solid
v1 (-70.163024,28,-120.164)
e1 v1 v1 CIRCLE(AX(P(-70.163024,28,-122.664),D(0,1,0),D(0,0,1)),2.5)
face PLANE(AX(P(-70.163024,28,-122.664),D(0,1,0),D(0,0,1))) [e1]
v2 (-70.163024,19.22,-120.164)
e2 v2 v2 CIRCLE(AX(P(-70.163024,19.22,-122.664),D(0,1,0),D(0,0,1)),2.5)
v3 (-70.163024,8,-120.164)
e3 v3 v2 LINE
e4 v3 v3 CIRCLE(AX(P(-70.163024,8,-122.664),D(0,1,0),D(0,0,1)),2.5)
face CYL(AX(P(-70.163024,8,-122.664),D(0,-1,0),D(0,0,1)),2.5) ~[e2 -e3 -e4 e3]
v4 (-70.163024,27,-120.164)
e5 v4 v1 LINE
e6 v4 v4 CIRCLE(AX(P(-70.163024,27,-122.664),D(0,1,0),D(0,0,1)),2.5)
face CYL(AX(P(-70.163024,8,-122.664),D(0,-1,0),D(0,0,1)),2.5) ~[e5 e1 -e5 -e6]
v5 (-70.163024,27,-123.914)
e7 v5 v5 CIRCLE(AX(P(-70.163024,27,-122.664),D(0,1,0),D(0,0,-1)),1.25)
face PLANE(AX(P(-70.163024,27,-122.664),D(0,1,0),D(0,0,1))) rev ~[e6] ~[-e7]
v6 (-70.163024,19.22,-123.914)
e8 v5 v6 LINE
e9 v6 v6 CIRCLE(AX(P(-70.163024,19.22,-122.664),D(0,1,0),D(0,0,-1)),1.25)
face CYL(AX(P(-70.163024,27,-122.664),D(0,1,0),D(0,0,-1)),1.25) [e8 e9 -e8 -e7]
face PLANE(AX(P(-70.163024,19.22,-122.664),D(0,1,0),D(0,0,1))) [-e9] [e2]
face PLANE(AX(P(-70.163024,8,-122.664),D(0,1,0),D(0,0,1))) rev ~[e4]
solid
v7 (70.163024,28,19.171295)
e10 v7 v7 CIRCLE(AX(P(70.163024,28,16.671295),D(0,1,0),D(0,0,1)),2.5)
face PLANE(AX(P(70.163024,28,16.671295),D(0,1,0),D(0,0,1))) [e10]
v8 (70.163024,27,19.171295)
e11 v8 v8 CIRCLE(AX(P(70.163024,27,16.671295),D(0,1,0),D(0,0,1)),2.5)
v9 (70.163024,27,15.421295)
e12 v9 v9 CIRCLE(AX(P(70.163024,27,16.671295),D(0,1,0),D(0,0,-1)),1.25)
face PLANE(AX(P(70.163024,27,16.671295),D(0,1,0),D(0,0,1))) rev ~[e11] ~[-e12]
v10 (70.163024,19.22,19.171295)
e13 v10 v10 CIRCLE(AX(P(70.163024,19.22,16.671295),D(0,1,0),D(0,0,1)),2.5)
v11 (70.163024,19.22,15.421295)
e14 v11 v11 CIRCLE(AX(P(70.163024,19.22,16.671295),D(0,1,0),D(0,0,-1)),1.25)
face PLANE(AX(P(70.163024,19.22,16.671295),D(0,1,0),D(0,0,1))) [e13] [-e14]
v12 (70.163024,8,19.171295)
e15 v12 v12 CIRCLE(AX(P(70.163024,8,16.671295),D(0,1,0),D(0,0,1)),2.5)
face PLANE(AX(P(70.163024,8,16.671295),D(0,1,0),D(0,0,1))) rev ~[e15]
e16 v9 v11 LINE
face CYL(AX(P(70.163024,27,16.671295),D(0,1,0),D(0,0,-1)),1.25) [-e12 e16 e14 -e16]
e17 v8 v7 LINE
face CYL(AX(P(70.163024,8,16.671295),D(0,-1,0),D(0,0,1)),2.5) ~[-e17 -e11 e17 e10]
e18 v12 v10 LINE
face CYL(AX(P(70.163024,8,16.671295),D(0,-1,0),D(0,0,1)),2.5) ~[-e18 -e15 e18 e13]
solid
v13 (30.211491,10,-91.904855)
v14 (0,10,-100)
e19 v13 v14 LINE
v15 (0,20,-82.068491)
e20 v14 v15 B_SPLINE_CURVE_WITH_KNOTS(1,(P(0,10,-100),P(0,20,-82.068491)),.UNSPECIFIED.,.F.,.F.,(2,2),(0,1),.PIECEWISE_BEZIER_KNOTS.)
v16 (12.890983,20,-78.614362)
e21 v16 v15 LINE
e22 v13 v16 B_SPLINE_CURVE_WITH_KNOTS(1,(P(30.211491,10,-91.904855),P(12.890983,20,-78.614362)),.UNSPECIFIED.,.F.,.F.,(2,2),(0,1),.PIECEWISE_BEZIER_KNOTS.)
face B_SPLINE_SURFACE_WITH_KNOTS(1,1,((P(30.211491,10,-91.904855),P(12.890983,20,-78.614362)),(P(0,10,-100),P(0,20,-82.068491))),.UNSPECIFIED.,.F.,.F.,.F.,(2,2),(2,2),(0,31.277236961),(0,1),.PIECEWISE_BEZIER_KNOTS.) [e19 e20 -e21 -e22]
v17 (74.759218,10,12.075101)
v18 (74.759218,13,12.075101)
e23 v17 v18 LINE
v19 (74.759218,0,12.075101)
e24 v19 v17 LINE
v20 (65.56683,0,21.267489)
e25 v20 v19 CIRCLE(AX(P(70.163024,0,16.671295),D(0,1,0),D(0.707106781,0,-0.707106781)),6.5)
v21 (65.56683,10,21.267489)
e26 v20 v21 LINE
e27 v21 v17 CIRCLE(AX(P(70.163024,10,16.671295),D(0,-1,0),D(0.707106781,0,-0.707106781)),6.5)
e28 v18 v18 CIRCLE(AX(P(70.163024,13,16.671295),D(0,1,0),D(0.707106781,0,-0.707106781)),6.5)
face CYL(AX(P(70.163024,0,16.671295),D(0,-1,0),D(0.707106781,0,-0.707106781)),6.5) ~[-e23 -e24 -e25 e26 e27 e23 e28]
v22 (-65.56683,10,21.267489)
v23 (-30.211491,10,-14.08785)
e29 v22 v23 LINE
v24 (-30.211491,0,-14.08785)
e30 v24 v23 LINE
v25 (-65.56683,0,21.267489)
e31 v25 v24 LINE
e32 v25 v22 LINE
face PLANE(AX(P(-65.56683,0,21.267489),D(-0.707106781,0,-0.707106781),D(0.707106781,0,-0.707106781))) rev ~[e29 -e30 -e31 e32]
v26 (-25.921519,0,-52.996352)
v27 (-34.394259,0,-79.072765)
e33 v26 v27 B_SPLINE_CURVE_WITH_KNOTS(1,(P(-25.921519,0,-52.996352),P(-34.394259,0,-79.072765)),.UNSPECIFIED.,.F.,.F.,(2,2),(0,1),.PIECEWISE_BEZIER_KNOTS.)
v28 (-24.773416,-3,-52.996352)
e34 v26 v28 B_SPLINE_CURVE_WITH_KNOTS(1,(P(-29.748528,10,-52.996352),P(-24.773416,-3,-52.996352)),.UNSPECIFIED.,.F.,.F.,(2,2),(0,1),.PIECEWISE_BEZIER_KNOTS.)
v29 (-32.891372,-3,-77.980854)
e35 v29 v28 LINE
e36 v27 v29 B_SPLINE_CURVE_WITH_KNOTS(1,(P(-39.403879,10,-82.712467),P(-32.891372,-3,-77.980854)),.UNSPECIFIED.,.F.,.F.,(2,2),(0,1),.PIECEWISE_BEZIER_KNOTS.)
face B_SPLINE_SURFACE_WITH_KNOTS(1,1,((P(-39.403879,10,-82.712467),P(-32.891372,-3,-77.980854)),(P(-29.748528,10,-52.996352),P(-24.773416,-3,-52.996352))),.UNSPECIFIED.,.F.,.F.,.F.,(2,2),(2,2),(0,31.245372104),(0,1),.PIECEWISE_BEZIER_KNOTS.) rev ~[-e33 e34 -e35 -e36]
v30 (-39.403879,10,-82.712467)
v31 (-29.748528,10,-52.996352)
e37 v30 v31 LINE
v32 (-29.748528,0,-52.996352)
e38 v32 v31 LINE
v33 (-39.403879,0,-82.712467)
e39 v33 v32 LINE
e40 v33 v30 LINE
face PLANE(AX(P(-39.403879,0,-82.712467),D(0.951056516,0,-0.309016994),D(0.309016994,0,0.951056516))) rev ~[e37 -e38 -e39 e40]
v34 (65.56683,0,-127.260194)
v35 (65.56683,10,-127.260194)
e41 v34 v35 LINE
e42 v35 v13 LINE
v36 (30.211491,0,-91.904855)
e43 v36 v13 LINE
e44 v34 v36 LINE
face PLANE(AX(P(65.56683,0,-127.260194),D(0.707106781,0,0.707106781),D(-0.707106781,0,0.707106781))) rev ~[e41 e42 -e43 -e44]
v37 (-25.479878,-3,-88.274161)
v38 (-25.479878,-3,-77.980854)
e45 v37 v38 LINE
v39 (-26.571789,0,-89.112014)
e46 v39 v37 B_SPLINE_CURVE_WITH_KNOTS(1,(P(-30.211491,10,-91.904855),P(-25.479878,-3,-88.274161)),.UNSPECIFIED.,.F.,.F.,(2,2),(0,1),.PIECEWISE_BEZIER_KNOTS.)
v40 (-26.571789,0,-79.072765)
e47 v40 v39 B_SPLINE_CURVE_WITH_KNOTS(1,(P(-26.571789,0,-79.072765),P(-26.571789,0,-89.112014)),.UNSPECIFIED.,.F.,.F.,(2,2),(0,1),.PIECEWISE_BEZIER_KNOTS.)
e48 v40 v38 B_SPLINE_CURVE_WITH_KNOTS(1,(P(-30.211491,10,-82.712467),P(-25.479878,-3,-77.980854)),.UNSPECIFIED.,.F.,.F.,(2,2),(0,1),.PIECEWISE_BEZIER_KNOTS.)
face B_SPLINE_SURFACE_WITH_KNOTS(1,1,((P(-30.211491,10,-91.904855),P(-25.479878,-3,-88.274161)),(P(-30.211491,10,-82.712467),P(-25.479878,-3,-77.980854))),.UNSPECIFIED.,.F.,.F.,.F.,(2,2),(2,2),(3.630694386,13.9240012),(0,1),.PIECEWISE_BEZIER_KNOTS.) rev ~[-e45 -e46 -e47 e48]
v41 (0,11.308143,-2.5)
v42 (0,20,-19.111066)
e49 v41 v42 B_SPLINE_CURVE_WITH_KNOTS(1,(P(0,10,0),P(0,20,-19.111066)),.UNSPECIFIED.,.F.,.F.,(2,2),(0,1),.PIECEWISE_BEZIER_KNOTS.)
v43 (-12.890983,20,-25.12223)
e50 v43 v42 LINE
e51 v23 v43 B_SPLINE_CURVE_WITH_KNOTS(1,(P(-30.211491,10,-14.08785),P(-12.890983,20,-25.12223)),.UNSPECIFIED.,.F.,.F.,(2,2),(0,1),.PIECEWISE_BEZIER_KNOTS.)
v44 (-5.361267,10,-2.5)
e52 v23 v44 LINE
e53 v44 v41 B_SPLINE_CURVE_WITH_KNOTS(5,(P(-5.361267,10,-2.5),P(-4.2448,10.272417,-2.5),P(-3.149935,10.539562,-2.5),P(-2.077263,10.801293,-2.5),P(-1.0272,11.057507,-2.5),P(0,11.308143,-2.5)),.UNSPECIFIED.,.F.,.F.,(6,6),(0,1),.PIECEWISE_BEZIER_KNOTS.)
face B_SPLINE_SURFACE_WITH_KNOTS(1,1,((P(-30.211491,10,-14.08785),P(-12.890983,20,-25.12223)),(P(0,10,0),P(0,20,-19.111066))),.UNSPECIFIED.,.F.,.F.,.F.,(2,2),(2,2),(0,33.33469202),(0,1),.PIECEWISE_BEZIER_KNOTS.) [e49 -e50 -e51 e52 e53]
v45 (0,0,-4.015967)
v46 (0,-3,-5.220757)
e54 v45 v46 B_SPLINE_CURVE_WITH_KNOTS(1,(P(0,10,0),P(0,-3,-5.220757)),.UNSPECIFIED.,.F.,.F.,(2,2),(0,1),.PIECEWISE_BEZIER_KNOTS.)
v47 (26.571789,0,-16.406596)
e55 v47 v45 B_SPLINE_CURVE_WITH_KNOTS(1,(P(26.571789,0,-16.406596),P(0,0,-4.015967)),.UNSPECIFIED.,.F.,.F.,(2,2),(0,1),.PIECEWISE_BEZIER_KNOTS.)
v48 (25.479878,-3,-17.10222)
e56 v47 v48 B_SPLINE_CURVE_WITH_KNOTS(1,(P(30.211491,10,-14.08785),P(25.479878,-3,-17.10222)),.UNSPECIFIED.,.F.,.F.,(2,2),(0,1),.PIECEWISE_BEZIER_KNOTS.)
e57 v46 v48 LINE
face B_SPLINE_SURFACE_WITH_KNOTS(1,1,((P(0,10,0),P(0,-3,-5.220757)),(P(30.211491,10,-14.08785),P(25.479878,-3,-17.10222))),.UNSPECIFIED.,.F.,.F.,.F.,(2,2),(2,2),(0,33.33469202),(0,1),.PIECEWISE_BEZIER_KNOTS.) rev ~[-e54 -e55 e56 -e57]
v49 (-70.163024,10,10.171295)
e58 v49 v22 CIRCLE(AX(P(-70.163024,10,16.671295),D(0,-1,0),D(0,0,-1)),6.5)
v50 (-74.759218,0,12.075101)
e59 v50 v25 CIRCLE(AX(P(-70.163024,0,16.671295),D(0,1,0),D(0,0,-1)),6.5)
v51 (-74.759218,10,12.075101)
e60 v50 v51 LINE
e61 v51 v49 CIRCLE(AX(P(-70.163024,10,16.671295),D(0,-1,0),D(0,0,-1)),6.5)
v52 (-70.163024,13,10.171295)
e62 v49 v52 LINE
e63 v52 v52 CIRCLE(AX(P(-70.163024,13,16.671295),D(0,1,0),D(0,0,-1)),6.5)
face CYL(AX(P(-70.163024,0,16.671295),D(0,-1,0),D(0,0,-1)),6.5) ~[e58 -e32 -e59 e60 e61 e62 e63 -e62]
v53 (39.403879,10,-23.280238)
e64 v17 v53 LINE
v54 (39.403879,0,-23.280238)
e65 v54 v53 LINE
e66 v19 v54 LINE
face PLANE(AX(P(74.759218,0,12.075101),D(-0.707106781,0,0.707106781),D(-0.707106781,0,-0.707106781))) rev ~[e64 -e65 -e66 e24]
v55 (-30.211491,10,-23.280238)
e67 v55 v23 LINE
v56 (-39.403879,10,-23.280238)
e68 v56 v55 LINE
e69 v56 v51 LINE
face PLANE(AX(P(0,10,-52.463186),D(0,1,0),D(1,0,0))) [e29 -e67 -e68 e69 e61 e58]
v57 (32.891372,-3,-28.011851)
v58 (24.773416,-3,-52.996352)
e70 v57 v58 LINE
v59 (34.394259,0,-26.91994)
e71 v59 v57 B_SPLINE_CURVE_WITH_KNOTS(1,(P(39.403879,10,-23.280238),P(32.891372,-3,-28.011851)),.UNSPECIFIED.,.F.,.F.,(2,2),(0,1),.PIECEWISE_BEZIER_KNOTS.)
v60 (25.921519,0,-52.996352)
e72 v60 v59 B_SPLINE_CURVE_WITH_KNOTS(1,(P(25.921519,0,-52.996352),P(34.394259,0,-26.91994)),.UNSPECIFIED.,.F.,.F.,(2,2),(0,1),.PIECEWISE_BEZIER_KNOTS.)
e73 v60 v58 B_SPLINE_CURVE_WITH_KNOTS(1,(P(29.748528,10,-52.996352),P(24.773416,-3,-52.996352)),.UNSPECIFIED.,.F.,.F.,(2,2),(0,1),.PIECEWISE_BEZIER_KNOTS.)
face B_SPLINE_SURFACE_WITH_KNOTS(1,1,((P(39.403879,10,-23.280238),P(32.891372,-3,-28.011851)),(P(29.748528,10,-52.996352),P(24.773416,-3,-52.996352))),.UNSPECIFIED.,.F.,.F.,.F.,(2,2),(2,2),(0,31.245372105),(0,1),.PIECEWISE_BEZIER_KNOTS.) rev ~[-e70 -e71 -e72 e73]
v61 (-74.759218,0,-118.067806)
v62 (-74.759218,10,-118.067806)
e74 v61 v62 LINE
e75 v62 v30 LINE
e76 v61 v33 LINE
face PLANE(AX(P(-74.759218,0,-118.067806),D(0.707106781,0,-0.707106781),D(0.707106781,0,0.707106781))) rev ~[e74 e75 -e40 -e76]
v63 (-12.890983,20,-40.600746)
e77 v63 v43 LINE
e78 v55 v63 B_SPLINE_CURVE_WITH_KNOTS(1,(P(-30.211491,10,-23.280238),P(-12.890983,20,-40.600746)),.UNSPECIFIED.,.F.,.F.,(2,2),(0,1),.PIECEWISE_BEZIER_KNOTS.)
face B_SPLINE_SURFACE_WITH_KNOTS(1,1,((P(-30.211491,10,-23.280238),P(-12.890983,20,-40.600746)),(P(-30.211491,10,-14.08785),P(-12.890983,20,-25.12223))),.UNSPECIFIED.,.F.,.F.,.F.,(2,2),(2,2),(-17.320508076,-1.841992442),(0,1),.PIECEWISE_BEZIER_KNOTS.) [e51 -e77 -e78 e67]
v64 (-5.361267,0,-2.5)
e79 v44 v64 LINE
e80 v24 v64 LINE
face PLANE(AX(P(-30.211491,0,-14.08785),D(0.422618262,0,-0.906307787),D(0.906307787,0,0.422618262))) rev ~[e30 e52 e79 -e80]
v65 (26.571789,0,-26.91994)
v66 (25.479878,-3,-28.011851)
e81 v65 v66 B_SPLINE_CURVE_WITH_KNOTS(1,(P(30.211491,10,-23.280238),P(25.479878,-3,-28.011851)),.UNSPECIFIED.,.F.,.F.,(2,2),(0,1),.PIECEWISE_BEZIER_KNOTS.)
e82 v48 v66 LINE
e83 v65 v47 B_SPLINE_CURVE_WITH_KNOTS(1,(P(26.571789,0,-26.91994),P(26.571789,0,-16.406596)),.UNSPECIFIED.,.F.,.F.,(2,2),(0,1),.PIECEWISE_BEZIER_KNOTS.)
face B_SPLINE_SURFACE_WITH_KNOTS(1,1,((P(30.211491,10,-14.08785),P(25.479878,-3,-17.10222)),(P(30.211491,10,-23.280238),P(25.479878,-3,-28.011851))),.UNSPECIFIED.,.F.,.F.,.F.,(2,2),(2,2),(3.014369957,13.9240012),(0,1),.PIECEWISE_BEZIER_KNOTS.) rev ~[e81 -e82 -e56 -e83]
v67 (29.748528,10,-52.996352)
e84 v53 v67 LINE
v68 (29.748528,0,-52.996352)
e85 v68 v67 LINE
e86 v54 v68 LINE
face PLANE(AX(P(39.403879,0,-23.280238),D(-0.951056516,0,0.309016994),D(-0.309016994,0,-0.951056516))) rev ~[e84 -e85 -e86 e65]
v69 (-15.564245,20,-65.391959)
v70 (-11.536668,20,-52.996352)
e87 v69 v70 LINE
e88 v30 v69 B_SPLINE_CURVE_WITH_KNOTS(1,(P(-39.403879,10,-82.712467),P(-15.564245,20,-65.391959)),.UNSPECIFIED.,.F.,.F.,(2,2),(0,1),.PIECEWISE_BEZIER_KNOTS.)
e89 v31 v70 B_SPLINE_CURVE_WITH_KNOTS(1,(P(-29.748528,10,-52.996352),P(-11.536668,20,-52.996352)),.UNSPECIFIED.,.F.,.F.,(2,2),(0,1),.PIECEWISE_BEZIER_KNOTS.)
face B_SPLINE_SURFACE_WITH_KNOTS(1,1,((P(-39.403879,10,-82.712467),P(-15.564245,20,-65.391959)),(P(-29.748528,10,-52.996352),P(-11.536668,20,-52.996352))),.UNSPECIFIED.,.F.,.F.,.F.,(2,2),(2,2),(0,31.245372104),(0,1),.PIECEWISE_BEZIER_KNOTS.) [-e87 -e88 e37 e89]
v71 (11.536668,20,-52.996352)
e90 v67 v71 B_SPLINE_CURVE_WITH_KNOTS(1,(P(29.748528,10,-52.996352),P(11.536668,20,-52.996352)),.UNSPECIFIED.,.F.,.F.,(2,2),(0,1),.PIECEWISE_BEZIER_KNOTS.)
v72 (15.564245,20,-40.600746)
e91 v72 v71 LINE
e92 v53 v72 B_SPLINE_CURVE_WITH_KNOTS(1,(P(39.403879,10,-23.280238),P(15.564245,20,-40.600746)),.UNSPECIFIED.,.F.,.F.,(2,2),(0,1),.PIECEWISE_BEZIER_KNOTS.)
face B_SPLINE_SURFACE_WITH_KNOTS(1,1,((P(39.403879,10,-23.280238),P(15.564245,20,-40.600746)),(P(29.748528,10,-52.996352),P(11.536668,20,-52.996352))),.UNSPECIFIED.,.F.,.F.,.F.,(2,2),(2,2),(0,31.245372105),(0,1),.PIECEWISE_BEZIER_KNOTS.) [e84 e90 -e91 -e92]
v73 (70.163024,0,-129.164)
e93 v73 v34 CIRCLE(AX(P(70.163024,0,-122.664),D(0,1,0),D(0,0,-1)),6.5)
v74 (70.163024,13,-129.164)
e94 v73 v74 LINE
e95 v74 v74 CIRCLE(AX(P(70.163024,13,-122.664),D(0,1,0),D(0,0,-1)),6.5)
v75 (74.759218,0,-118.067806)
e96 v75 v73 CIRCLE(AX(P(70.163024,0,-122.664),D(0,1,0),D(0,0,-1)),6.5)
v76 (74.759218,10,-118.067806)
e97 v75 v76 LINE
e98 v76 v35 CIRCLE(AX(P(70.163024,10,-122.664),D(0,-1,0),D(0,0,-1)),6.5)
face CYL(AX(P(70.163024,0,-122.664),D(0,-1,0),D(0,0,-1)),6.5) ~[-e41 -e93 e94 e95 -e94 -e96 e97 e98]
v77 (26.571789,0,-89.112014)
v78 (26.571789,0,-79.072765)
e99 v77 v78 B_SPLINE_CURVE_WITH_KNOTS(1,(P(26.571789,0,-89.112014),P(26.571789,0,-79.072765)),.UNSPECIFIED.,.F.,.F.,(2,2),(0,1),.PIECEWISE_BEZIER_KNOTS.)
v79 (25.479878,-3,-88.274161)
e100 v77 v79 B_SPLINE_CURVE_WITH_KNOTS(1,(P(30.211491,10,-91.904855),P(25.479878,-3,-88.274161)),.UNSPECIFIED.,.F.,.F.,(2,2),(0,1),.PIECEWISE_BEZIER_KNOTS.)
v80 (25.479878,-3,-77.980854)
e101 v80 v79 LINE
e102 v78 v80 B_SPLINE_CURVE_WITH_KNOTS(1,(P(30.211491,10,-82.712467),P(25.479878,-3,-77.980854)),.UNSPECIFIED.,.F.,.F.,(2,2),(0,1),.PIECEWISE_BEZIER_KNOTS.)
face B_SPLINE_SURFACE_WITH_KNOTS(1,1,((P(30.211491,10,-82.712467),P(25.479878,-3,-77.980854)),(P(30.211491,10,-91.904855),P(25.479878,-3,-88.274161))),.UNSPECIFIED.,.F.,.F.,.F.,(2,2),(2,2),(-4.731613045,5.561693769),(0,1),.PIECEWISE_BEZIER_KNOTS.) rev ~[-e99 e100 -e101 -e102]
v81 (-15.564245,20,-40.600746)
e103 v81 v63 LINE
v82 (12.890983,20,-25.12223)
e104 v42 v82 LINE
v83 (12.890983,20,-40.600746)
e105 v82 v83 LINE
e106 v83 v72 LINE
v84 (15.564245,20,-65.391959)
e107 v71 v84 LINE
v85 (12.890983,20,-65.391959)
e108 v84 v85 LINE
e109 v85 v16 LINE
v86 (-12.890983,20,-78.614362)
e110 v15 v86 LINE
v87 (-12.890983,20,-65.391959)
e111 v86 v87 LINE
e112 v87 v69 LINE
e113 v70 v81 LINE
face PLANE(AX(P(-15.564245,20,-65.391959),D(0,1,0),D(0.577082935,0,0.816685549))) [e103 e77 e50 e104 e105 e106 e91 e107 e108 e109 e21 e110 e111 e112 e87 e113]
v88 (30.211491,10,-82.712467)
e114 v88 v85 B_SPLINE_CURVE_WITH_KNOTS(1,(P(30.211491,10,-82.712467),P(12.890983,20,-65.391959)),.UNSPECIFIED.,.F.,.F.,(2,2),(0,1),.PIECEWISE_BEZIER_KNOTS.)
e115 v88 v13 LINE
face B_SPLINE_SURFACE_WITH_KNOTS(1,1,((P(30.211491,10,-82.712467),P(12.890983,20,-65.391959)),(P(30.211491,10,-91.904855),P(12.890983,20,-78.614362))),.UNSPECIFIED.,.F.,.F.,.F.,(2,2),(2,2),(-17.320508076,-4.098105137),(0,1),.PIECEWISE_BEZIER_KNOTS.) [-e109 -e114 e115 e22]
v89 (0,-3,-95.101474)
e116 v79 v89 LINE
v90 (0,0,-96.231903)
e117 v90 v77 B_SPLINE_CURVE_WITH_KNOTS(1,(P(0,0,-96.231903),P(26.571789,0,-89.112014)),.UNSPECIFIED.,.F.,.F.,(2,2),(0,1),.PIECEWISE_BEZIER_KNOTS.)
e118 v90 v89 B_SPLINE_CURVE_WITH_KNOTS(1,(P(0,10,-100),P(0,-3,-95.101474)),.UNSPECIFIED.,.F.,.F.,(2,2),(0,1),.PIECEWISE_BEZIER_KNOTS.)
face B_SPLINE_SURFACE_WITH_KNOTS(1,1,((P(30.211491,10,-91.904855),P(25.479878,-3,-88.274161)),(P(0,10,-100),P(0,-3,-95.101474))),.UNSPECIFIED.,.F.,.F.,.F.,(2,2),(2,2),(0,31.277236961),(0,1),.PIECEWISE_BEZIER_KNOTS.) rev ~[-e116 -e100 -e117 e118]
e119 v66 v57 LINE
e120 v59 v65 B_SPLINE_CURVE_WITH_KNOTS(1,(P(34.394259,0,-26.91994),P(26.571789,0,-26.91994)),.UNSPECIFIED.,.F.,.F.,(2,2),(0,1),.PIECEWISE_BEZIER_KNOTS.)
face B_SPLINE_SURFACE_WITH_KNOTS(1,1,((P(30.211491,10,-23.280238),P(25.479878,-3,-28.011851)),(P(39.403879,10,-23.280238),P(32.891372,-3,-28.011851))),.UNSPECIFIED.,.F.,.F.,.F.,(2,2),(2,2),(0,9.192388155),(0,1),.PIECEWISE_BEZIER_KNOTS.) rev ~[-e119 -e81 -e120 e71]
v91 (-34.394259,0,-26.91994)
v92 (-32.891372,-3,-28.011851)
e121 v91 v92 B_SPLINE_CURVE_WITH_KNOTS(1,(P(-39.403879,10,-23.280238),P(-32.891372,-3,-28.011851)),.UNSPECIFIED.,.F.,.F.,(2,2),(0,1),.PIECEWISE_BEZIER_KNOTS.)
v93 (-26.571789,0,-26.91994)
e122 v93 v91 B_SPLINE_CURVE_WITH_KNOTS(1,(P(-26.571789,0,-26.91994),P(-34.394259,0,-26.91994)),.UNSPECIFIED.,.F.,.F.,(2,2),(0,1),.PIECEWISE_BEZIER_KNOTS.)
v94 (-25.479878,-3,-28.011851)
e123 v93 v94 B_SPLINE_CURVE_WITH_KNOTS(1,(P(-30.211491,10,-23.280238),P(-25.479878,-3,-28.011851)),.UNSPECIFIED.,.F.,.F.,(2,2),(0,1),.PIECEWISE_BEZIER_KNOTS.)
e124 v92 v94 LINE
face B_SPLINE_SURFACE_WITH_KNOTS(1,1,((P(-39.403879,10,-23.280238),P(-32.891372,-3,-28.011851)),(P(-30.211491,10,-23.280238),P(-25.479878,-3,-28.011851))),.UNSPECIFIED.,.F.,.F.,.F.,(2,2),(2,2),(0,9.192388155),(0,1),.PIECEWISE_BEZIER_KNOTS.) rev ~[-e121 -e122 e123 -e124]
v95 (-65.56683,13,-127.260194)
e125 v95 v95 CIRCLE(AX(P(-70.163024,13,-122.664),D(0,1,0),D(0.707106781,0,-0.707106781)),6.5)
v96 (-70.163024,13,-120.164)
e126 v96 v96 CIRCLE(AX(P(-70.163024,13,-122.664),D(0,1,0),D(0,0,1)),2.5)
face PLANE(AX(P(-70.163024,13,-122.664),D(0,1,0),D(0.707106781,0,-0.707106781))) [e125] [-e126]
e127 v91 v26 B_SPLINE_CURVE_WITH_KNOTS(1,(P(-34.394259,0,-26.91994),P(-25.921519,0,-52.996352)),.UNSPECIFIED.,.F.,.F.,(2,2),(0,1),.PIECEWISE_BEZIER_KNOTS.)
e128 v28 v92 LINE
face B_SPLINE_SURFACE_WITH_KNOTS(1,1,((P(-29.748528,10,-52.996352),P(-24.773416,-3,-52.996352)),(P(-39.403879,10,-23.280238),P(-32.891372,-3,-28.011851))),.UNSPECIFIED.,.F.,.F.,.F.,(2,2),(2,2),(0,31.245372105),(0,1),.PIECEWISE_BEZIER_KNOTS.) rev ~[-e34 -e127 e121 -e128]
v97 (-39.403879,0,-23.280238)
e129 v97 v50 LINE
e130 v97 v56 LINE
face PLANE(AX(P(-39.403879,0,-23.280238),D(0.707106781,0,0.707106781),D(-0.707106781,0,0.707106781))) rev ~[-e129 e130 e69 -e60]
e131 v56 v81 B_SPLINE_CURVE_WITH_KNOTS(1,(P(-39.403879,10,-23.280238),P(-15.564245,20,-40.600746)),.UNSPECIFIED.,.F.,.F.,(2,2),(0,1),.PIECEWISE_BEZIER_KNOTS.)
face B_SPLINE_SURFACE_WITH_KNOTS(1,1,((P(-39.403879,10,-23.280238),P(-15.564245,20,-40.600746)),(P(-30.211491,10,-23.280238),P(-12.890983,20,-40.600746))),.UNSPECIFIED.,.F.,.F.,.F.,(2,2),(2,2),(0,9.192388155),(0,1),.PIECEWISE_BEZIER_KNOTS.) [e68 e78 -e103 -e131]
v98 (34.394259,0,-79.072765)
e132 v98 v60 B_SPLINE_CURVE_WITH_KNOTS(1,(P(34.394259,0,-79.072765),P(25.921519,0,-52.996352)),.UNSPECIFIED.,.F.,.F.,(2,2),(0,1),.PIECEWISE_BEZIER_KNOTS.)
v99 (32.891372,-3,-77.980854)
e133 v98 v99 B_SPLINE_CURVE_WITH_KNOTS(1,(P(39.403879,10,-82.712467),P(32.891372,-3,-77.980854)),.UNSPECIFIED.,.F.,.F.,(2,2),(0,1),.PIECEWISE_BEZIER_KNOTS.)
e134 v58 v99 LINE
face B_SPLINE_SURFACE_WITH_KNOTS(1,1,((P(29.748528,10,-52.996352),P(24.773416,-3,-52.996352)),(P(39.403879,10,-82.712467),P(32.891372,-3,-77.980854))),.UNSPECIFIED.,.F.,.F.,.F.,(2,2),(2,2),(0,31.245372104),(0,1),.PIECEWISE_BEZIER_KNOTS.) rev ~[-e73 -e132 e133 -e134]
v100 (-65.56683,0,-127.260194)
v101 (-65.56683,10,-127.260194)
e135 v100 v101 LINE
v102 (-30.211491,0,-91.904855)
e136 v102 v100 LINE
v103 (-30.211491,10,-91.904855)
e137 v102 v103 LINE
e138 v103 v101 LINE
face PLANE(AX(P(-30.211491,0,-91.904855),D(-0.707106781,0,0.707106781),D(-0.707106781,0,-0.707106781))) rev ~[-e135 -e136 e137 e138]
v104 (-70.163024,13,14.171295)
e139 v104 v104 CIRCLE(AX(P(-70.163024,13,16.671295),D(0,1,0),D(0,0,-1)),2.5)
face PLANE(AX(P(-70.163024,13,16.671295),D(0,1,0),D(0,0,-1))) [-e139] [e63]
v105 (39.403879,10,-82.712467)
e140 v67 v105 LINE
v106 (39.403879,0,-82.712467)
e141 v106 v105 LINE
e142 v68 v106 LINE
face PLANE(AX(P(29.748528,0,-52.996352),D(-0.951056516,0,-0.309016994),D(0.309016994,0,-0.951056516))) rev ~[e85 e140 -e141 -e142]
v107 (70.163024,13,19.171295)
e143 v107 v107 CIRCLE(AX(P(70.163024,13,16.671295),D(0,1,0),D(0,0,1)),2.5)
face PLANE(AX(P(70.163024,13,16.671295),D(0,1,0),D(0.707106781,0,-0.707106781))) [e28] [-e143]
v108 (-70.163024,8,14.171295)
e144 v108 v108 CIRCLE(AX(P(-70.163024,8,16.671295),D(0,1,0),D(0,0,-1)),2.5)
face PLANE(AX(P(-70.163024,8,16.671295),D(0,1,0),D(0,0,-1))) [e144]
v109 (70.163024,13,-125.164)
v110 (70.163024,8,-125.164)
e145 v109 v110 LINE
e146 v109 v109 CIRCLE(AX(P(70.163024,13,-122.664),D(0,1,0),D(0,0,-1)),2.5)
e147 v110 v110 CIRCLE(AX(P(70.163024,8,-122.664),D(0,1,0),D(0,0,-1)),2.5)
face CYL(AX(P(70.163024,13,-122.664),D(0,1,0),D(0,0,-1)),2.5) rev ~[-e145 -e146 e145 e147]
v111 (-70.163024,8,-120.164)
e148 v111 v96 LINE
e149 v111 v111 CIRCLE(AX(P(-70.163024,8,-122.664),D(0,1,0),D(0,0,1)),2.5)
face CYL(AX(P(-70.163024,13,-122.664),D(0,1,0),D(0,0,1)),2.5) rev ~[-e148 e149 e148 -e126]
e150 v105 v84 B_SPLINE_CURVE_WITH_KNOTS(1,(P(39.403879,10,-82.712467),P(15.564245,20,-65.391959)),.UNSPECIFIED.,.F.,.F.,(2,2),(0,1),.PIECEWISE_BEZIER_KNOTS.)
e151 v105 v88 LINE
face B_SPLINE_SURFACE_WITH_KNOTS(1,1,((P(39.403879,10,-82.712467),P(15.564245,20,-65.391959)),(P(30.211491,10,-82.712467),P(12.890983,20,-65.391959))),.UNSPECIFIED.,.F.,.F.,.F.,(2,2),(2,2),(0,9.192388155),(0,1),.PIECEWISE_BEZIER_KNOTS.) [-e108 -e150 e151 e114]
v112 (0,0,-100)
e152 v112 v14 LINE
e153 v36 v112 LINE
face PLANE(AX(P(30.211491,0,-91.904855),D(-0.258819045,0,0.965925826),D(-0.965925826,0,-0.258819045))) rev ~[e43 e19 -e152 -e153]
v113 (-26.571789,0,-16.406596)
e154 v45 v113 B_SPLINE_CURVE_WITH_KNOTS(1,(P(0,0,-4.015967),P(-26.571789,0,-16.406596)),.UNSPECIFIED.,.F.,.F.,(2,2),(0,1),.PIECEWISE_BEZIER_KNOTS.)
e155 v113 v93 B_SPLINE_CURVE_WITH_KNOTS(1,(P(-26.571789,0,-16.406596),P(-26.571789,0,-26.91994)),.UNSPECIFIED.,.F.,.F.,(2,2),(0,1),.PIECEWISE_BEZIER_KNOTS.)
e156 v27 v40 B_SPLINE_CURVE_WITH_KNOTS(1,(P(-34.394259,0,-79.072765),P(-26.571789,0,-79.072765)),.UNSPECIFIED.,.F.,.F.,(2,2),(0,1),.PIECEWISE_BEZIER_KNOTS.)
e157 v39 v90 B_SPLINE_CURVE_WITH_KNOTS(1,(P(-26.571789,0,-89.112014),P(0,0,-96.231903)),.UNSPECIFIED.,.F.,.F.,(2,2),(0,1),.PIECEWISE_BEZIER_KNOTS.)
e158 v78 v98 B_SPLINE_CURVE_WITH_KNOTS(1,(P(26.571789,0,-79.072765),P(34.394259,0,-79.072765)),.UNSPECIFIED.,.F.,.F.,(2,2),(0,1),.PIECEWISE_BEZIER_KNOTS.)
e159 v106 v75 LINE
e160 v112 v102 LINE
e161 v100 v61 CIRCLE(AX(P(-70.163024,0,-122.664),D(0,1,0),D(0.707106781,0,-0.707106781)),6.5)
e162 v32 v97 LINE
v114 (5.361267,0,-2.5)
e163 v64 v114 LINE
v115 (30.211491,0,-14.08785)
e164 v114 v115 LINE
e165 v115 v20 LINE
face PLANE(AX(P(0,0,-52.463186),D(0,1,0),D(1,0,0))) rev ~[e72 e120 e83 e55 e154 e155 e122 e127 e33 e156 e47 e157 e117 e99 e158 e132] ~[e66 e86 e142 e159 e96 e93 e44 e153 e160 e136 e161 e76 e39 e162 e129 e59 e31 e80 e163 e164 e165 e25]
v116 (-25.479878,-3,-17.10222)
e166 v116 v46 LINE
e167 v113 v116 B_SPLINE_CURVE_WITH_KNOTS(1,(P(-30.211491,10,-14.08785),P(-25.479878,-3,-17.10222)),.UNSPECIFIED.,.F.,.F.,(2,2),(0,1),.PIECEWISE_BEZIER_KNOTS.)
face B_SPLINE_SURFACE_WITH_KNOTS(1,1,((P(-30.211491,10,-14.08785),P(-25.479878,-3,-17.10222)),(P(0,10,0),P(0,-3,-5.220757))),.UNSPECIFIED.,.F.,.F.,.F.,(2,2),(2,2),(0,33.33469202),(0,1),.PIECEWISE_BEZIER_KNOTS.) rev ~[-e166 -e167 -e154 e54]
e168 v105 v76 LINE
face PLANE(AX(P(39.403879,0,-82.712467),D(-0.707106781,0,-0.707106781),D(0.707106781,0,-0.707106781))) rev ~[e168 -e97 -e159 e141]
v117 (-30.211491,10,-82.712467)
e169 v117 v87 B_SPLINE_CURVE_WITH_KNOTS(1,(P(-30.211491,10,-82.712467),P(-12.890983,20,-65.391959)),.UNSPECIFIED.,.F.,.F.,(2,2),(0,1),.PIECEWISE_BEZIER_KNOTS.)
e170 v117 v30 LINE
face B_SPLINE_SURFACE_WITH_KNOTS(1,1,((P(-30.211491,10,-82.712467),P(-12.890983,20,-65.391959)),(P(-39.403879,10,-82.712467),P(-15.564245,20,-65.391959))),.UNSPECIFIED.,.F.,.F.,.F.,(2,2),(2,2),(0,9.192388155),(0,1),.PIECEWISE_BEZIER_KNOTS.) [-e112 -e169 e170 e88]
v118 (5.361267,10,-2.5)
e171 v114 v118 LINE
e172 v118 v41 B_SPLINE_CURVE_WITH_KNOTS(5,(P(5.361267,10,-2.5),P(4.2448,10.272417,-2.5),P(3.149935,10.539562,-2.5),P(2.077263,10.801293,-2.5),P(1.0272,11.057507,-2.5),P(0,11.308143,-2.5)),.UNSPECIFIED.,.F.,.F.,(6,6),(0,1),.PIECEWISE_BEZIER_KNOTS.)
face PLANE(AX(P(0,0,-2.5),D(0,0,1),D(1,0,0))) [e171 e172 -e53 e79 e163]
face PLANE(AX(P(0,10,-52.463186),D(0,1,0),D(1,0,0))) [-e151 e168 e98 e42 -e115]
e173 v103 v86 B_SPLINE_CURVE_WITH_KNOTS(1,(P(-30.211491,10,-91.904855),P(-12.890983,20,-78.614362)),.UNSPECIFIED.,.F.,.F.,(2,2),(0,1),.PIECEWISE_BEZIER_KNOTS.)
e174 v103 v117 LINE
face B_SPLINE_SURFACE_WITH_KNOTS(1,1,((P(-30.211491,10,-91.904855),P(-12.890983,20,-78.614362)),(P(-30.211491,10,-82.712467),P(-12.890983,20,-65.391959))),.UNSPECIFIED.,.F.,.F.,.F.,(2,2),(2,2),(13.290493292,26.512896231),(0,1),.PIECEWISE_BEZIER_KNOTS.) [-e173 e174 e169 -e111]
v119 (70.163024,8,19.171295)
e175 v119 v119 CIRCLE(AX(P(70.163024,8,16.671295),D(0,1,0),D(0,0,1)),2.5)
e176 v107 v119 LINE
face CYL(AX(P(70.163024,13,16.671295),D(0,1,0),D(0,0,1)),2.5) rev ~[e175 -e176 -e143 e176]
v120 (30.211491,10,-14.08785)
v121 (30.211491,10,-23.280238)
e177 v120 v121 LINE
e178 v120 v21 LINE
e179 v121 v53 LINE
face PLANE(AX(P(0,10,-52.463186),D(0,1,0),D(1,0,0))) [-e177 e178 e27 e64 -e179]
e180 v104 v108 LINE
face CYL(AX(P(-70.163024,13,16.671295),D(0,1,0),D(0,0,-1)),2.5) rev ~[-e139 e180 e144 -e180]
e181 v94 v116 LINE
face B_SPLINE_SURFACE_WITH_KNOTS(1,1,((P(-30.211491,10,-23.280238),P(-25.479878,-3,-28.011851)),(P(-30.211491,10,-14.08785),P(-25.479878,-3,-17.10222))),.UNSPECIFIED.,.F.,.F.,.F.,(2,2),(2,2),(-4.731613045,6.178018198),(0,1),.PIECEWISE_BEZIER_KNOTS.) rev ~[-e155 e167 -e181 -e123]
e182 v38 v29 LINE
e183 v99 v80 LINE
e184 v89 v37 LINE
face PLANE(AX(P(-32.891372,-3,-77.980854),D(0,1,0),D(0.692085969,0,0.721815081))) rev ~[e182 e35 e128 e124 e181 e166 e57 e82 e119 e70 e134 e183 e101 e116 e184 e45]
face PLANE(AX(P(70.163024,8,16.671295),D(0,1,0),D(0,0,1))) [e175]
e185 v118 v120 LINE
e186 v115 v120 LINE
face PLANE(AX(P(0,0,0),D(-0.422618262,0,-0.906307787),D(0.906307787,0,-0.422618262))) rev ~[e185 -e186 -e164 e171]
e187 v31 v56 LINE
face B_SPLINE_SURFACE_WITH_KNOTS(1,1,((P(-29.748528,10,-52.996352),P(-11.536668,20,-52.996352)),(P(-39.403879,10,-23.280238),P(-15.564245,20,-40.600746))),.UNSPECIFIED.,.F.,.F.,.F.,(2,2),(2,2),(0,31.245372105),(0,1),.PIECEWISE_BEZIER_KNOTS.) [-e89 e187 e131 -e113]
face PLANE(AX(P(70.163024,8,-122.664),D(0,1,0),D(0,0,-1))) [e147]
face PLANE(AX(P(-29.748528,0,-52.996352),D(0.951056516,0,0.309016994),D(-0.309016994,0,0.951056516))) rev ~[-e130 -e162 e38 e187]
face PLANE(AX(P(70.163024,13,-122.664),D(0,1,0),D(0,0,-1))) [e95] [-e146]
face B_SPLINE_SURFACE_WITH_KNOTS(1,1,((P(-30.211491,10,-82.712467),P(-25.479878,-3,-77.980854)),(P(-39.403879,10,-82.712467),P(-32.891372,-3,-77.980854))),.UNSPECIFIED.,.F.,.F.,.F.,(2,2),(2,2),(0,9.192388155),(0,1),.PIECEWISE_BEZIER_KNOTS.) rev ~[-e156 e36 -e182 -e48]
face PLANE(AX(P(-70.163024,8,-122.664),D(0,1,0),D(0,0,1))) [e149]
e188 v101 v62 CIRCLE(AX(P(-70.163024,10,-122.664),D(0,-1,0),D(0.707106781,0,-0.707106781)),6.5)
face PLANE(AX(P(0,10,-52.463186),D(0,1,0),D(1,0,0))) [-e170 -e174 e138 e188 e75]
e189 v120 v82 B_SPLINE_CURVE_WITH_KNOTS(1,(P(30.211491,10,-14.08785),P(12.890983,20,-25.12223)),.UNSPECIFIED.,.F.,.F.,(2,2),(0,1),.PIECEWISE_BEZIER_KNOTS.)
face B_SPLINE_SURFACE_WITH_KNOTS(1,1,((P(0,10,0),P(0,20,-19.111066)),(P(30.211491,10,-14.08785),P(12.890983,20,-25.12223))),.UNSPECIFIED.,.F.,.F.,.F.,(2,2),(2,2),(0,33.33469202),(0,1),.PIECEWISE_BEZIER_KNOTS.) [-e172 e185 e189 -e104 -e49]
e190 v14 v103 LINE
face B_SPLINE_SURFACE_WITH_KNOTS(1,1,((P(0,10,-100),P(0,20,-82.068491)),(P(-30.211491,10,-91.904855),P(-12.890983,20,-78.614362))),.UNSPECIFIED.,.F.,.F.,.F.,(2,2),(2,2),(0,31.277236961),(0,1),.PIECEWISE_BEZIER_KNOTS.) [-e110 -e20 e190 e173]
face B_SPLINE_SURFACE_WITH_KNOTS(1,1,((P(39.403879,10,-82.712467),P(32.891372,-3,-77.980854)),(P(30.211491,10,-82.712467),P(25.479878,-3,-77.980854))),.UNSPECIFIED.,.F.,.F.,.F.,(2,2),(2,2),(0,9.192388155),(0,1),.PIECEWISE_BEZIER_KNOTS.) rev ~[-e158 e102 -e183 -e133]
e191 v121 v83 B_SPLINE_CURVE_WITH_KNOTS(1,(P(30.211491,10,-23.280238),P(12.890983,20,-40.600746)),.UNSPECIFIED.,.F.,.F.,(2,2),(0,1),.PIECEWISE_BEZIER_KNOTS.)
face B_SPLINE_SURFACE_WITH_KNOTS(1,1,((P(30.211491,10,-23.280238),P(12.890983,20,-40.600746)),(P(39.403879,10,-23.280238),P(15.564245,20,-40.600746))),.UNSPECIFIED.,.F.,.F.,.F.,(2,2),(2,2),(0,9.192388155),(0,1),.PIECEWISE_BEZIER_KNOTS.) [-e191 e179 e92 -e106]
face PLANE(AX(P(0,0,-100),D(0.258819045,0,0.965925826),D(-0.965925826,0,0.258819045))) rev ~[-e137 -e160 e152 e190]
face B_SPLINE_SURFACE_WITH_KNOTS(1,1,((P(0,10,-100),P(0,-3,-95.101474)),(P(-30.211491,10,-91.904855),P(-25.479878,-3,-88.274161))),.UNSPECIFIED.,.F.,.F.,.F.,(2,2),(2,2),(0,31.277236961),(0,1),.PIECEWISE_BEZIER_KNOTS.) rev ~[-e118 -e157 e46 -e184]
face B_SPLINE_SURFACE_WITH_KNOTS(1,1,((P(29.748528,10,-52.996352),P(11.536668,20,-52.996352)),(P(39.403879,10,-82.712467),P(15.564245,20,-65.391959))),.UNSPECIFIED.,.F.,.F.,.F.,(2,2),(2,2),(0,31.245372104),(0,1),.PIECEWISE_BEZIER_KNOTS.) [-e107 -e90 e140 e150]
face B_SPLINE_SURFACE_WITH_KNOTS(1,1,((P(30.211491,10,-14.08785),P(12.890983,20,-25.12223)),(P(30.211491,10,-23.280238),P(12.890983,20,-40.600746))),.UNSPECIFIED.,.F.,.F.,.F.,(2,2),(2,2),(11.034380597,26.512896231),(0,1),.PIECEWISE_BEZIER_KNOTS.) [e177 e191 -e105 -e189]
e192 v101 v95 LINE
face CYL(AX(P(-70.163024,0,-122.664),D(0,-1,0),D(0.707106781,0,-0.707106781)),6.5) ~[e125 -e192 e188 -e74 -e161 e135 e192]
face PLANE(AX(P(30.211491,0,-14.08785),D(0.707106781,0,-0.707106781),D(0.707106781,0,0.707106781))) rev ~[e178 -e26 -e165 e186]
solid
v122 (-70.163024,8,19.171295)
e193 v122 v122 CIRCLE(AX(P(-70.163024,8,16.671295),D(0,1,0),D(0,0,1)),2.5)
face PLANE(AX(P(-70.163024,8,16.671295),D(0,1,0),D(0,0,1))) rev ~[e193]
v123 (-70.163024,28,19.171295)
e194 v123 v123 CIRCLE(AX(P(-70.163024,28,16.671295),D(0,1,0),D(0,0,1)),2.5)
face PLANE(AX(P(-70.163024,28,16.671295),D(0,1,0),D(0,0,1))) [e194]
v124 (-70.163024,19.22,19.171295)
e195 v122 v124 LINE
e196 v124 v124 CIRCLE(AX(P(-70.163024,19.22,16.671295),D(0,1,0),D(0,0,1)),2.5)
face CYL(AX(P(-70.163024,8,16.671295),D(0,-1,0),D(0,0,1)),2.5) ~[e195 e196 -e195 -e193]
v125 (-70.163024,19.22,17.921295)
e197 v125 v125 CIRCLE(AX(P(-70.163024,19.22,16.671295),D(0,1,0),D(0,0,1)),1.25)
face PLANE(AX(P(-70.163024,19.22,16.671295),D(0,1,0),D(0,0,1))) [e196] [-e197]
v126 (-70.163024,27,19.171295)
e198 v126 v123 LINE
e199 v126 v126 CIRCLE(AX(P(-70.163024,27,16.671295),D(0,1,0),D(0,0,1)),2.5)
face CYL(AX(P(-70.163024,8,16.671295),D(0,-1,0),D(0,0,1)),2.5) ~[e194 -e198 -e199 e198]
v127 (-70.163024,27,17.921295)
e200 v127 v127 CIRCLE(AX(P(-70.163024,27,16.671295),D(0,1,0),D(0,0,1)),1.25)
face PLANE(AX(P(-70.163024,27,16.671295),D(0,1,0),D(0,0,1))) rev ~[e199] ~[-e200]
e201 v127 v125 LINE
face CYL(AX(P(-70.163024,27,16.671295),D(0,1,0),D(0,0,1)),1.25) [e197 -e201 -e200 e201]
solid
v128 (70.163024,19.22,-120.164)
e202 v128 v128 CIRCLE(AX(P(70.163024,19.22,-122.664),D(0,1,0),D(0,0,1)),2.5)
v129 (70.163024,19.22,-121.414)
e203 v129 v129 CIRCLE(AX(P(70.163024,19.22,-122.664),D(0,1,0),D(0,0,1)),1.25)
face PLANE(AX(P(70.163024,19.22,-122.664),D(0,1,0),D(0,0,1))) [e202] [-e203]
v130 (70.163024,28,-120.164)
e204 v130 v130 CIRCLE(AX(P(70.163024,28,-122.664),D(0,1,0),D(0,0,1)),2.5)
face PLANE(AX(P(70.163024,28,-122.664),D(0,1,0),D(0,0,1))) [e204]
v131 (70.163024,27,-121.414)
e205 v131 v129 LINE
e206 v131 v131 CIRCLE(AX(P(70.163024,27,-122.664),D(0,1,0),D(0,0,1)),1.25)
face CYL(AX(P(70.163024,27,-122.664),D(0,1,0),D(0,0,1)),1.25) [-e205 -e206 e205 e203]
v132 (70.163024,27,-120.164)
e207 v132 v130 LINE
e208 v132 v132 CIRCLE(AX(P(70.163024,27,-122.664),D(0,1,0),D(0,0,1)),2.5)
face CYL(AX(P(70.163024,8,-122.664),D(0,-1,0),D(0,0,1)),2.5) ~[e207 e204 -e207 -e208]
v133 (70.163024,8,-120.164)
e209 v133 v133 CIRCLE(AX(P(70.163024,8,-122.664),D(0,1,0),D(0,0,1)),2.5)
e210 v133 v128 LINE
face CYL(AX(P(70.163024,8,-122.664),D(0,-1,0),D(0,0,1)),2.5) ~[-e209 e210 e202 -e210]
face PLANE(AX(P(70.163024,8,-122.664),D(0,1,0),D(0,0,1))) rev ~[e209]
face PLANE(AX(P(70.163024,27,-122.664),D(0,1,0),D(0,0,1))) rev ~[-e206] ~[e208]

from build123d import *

# Parameters (mm, degrees)
SALIENTE_EXTRUIR1_DEPTH           = 10
SALIENTE_EXTRUIR2_DEPTH           = 13
SALIENTE_EXTRUIR2_TAPER           = 20
SALIENTE_EXTRUIR2_OTHER_WAY_DEPTH = 10
SALIENTE_EXTRUIR2_OTHER_WAY_TAPER = 60
CROQUIS8_W                        = 21.791142798
CROQUIS8_H                        = 20
CORTAR_EXTRUIR3_DEPTH             = 2.5
SALIENTE_EXTRUIR3_DEPTH           = 3
SALIENTE_EXTRUIR3_DEPTH_BACK      = 10
CROQUIS3_R                        = 6.5
CROQUIS4_R                        = 2.5
CORTAR_EXTRUIR1_DEPTH             = 5
CROQUIS6_R                        = 2.5
SALIENTE_EXTRUIR4_DEPTH           = 20
SALIENTE_EXTRUIR4_2_DEPTH         = 20
SALIENTE_EXTRUIR4_3_DEPTH         = 20
SALIENTE_EXTRUIR4_4_DEPTH         = 20
CORTAR_EXTRUIR2_START             = -1
CROQUIS7_R                        = 2.5
CROQUIS7_R_2                      = 1.25
CORTAR_EXTRUIR2_DEPTH             = 7.78
CROQUIS9_W                        = 10.722534602
CROQUIS9_H                        = 19.76388768
CORTAR_EXTRUIR5_DEPTH             = 10


with BuildPart() as part:
    # Croquis1 → Saliente-Extruir1 (new body)
    with BuildSketch(Plane(origin=(0, 0, 0), x_dir=(1, 0, 0), z_dir=(0, 1, 0))):
        Polygon((30.211490956, 91.904855396), (0, 100), (-30.211490956, 91.904855396), (-65.566830015, 127.260194456), (-74.759218171, 118.0678063), (-39.403879111, 82.712467241), (-29.748528135, 52.996352497), (-39.403879111, 23.280237752), (-74.759218171, -12.075101307), (-65.566830015, -21.267489462), (-30.211490956, 14.087849597), (0, 0), (30.211490956, 14.087849597), (65.566830015, -21.267489462), (74.759218171, -12.075101307), (39.403879111, 23.280237752), (29.748528135, 52.996352497), (39.403879111, 82.712467241), (74.759218171, 118.0678063), (65.566830015, 127.260194456), align=None)
    extrude(amount=SALIENTE_EXTRUIR1_DEPTH)

    # Croquis2 → Saliente-Extruir2 (add)
    with BuildSketch(Plane(origin=(0, 10, 0), x_dir=(1, 0, 0), z_dir=(0, 1, 0))):
        Polygon((-39.403879111, 82.712467241), (-29.748528135, 52.996352497), (-39.403879111, 23.280237752), (-30.211490956, 23.280237752), (-30.211490956, 14.087849597), (0, 0), (30.211490956, 14.087849597), (30.211490956, 23.280237752), (39.403879111, 23.280237752), (29.748528135, 52.996352497), (39.403879111, 82.712467241), (30.211490956, 82.712467241), (30.211490956, 91.904855396), (0, 100), (-30.211490956, 91.904855396), (-30.211490956, 82.712467241), align=None)
    extrude(amount=-SALIENTE_EXTRUIR2_DEPTH, taper=SALIENTE_EXTRUIR2_TAPER)

    # Croquis2 → Saliente-Extruir2 other way (add)
    with BuildSketch(Plane(origin=(0, 10, 0), x_dir=(1, 0, 0), z_dir=(0, 1, 0))):
        Polygon((-39.403879111, 82.712467241), (-29.748528135, 52.996352497), (-39.403879111, 23.280237752), (-30.211490956, 23.280237752), (-30.211490956, 14.087849597), (0, 0), (30.211490956, 14.087849597), (30.211490956, 23.280237752), (39.403879111, 23.280237752), (29.748528135, 52.996352497), (39.403879111, 82.712467241), (30.211490956, 82.712467241), (30.211490956, 91.904855396), (0, 100), (-30.211490956, 91.904855396), (-30.211490956, 82.712467241), align=None)
    extrude(amount=SALIENTE_EXTRUIR2_OTHER_WAY_DEPTH, taper=SALIENTE_EXTRUIR2_OTHER_WAY_TAPER)

    # Croquis8 → Cortar-Extruir3 (cut)
    with BuildSketch(Plane.XY):
        Rectangle(CROQUIS8_W, CROQUIS8_H)
    extrude(amount=-CORTAR_EXTRUIR3_DEPTH, mode=Mode.SUBTRACT)

    # Croquis3 → Saliente-Extruir3 (add, two sides: drawn at the far end of the back side and taken through both)
    with BuildSketch(Plane(origin=(0, 10, 0), x_dir=(1, 0, 0), z_dir=(0, 1, 0)).offset(-SALIENTE_EXTRUIR3_DEPTH_BACK)):
        with Locations(Location((70.163024093, -16.671295385, 0), (0, 0, 45))):
            Circle(CROQUIS3_R)
        with Locations(Location((-70.163024093, -16.671295385, 0), (0, 0, 90))):
            Circle(CROQUIS3_R)
        with Locations(Location((70.163024093, 122.664000378, 0), (0, 0, 90))):
            Circle(CROQUIS3_R)
        with Locations(Location((-70.163024093, 122.664000378, 0), (0, 0, 45))):
            Circle(CROQUIS3_R)
    extrude(amount=SALIENTE_EXTRUIR3_DEPTH + SALIENTE_EXTRUIR3_DEPTH_BACK)

    # Croquis4 → Cortar-Extruir1 (cut, symmetric)
    with BuildSketch(Plane(origin=(0, 13, 0), x_dir=(1, 0, 0), z_dir=(0, 1, 0))):
        with Locations(Location((70.163024093, -16.671295385, 0), (0, 0, 270))):
            Circle(CROQUIS4_R)
        with Locations(Location((-70.163024093, -16.671295385, 0), (0, 0, 90))):
            Circle(CROQUIS4_R)
        with Locations(Location((70.163024093, 122.664000378, 0), (0, 0, 90))):
            Circle(CROQUIS4_R)
        with Locations(Location((-70.163024093, 122.664000378, 0), (0, 0, 270))):
            Circle(CROQUIS4_R)
    extrude(amount=CORTAR_EXTRUIR1_DEPTH, both=True, mode=Mode.SUBTRACT)

    # Croquis9 → Cortar-Extruir5 (cut)
    with BuildSketch(Plane.XY.offset(-2.5)):
        with Locations((0, 5.082150096)):
            Rectangle(CROQUIS9_W, CROQUIS9_H)
    extrude(amount=CORTAR_EXTRUIR5_DEPTH, mode=Mode.SUBTRACT)


with BuildPart() as body_2:
    # Croquis6 → Saliente-Extruir4 (new body)
    with BuildSketch(Plane(origin=(0, 8, 0), x_dir=(1, 0, 0), z_dir=(0, 1, 0))):
        with Locations(Location((70.163024093, -16.671295385, 0), (0, 0, 270))):
            Circle(CROQUIS6_R)
    extrude(amount=SALIENTE_EXTRUIR4_DEPTH)


with BuildPart() as body_3:
    # Croquis6 → Saliente-Extruir4 2 (new body)
    with BuildSketch(Plane(origin=(0, 8, 0), x_dir=(1, 0, 0), z_dir=(0, 1, 0))):
        with Locations(Location((70.163024093, 122.664000378, 0), (0, 0, 270))):
            Circle(CROQUIS6_R)
    extrude(amount=SALIENTE_EXTRUIR4_2_DEPTH)


with BuildPart() as body_4:
    # Croquis6 → Saliente-Extruir4 3 (new body)
    with BuildSketch(Plane(origin=(0, 8, 0), x_dir=(1, 0, 0), z_dir=(0, 1, 0))):
        with Locations(Location((-70.163024093, 122.664000378, 0), (0, 0, 270))):
            Circle(CROQUIS6_R)
    extrude(amount=SALIENTE_EXTRUIR4_3_DEPTH)


with BuildPart() as body_5:
    # Croquis6 → Saliente-Extruir4 4 (new body)
    with BuildSketch(Plane(origin=(0, 8, 0), x_dir=(1, 0, 0), z_dir=(0, 1, 0))):
        with Locations(Location((-70.163024093, -16.671295385, 0), (0, 0, 270))):
            Circle(CROQUIS6_R)
    extrude(amount=SALIENTE_EXTRUIR4_4_DEPTH)


with BuildPart() as cortar_extruir2_tool:
    # Croquis7 → Cortar-Extruir2 (new body)
    # profile 1 of 4: a face of its own
    with BuildSketch(Plane(origin=(0, 28, 0), x_dir=(1, 0, 0), z_dir=(0, 1, 0)).offset(CORTAR_EXTRUIR2_START)):
        with Locations(Location((-70.163024093, 122.664000378, 0), (0, 0, 270))):
            Circle(CROQUIS7_R)
        with Locations(Location((-70.163024093, 122.664000378, 0), (0, 0, 90))):
            Circle(CROQUIS7_R_2, mode=Mode.SUBTRACT)
    # profile 2 of 4: a face of its own
    with BuildSketch(Plane(origin=(0, 28, 0), x_dir=(1, 0, 0), z_dir=(0, 1, 0)).offset(CORTAR_EXTRUIR2_START)):
        with Locations(Location((70.163024093, 122.664000378, 0), (0, 0, 270))):
            Circle(CROQUIS7_R)
        with Locations(Location((70.163024093, 122.664000378, 0), (0, 0, 270))):
            Circle(CROQUIS7_R_2, mode=Mode.SUBTRACT)
    # profile 3 of 4: a face of its own
    with BuildSketch(Plane(origin=(0, 28, 0), x_dir=(1, 0, 0), z_dir=(0, 1, 0)).offset(CORTAR_EXTRUIR2_START)):
        with Locations(Location((70.163024093, -16.671295385, 0), (0, 0, 270))):
            Circle(CROQUIS7_R)
        with Locations(Location((70.163024093, -16.671295385, 0), (0, 0, 90))):
            Circle(CROQUIS7_R_2, mode=Mode.SUBTRACT)
    # profile 4 of 4: a face of its own
    with BuildSketch(Plane(origin=(0, 28, 0), x_dir=(1, 0, 0), z_dir=(0, 1, 0)).offset(CORTAR_EXTRUIR2_START)):
        with Locations(Location((-70.163024093, -16.671295385, 0), (0, 0, 270))):
            Circle(CROQUIS7_R)
        with Locations(Location((-70.163024093, -16.671295385, 0), (0, 0, 270))):
            Circle(CROQUIS7_R_2, mode=Mode.SUBTRACT)
    extrude(amount=-CORTAR_EXTRUIR2_DEPTH)


with BuildPart() as body_2_1:
    add(body_2.part)

    # Cortar-Extruir2: cut by cortar_extruir2_tool
    add(cortar_extruir2_tool.part, mode=Mode.SUBTRACT)


with BuildPart() as body_3_1:
    add(body_3.part)

    # Cortar-Extruir2: cut by cortar_extruir2_tool
    add(cortar_extruir2_tool.part, mode=Mode.SUBTRACT)


with BuildPart() as body_4_1:
    add(body_4.part)

    # Cortar-Extruir2: cut by cortar_extruir2_tool
    add(cortar_extruir2_tool.part, mode=Mode.SUBTRACT)


with BuildPart() as body_5_1:
    add(body_5.part)

    # Cortar-Extruir2: cut by cortar_extruir2_tool
    add(cortar_extruir2_tool.part, mode=Mode.SUBTRACT)


solid = Compound([part.part, body_2_1.part, body_3_1.part, body_4_1.part, body_5_1.part])
